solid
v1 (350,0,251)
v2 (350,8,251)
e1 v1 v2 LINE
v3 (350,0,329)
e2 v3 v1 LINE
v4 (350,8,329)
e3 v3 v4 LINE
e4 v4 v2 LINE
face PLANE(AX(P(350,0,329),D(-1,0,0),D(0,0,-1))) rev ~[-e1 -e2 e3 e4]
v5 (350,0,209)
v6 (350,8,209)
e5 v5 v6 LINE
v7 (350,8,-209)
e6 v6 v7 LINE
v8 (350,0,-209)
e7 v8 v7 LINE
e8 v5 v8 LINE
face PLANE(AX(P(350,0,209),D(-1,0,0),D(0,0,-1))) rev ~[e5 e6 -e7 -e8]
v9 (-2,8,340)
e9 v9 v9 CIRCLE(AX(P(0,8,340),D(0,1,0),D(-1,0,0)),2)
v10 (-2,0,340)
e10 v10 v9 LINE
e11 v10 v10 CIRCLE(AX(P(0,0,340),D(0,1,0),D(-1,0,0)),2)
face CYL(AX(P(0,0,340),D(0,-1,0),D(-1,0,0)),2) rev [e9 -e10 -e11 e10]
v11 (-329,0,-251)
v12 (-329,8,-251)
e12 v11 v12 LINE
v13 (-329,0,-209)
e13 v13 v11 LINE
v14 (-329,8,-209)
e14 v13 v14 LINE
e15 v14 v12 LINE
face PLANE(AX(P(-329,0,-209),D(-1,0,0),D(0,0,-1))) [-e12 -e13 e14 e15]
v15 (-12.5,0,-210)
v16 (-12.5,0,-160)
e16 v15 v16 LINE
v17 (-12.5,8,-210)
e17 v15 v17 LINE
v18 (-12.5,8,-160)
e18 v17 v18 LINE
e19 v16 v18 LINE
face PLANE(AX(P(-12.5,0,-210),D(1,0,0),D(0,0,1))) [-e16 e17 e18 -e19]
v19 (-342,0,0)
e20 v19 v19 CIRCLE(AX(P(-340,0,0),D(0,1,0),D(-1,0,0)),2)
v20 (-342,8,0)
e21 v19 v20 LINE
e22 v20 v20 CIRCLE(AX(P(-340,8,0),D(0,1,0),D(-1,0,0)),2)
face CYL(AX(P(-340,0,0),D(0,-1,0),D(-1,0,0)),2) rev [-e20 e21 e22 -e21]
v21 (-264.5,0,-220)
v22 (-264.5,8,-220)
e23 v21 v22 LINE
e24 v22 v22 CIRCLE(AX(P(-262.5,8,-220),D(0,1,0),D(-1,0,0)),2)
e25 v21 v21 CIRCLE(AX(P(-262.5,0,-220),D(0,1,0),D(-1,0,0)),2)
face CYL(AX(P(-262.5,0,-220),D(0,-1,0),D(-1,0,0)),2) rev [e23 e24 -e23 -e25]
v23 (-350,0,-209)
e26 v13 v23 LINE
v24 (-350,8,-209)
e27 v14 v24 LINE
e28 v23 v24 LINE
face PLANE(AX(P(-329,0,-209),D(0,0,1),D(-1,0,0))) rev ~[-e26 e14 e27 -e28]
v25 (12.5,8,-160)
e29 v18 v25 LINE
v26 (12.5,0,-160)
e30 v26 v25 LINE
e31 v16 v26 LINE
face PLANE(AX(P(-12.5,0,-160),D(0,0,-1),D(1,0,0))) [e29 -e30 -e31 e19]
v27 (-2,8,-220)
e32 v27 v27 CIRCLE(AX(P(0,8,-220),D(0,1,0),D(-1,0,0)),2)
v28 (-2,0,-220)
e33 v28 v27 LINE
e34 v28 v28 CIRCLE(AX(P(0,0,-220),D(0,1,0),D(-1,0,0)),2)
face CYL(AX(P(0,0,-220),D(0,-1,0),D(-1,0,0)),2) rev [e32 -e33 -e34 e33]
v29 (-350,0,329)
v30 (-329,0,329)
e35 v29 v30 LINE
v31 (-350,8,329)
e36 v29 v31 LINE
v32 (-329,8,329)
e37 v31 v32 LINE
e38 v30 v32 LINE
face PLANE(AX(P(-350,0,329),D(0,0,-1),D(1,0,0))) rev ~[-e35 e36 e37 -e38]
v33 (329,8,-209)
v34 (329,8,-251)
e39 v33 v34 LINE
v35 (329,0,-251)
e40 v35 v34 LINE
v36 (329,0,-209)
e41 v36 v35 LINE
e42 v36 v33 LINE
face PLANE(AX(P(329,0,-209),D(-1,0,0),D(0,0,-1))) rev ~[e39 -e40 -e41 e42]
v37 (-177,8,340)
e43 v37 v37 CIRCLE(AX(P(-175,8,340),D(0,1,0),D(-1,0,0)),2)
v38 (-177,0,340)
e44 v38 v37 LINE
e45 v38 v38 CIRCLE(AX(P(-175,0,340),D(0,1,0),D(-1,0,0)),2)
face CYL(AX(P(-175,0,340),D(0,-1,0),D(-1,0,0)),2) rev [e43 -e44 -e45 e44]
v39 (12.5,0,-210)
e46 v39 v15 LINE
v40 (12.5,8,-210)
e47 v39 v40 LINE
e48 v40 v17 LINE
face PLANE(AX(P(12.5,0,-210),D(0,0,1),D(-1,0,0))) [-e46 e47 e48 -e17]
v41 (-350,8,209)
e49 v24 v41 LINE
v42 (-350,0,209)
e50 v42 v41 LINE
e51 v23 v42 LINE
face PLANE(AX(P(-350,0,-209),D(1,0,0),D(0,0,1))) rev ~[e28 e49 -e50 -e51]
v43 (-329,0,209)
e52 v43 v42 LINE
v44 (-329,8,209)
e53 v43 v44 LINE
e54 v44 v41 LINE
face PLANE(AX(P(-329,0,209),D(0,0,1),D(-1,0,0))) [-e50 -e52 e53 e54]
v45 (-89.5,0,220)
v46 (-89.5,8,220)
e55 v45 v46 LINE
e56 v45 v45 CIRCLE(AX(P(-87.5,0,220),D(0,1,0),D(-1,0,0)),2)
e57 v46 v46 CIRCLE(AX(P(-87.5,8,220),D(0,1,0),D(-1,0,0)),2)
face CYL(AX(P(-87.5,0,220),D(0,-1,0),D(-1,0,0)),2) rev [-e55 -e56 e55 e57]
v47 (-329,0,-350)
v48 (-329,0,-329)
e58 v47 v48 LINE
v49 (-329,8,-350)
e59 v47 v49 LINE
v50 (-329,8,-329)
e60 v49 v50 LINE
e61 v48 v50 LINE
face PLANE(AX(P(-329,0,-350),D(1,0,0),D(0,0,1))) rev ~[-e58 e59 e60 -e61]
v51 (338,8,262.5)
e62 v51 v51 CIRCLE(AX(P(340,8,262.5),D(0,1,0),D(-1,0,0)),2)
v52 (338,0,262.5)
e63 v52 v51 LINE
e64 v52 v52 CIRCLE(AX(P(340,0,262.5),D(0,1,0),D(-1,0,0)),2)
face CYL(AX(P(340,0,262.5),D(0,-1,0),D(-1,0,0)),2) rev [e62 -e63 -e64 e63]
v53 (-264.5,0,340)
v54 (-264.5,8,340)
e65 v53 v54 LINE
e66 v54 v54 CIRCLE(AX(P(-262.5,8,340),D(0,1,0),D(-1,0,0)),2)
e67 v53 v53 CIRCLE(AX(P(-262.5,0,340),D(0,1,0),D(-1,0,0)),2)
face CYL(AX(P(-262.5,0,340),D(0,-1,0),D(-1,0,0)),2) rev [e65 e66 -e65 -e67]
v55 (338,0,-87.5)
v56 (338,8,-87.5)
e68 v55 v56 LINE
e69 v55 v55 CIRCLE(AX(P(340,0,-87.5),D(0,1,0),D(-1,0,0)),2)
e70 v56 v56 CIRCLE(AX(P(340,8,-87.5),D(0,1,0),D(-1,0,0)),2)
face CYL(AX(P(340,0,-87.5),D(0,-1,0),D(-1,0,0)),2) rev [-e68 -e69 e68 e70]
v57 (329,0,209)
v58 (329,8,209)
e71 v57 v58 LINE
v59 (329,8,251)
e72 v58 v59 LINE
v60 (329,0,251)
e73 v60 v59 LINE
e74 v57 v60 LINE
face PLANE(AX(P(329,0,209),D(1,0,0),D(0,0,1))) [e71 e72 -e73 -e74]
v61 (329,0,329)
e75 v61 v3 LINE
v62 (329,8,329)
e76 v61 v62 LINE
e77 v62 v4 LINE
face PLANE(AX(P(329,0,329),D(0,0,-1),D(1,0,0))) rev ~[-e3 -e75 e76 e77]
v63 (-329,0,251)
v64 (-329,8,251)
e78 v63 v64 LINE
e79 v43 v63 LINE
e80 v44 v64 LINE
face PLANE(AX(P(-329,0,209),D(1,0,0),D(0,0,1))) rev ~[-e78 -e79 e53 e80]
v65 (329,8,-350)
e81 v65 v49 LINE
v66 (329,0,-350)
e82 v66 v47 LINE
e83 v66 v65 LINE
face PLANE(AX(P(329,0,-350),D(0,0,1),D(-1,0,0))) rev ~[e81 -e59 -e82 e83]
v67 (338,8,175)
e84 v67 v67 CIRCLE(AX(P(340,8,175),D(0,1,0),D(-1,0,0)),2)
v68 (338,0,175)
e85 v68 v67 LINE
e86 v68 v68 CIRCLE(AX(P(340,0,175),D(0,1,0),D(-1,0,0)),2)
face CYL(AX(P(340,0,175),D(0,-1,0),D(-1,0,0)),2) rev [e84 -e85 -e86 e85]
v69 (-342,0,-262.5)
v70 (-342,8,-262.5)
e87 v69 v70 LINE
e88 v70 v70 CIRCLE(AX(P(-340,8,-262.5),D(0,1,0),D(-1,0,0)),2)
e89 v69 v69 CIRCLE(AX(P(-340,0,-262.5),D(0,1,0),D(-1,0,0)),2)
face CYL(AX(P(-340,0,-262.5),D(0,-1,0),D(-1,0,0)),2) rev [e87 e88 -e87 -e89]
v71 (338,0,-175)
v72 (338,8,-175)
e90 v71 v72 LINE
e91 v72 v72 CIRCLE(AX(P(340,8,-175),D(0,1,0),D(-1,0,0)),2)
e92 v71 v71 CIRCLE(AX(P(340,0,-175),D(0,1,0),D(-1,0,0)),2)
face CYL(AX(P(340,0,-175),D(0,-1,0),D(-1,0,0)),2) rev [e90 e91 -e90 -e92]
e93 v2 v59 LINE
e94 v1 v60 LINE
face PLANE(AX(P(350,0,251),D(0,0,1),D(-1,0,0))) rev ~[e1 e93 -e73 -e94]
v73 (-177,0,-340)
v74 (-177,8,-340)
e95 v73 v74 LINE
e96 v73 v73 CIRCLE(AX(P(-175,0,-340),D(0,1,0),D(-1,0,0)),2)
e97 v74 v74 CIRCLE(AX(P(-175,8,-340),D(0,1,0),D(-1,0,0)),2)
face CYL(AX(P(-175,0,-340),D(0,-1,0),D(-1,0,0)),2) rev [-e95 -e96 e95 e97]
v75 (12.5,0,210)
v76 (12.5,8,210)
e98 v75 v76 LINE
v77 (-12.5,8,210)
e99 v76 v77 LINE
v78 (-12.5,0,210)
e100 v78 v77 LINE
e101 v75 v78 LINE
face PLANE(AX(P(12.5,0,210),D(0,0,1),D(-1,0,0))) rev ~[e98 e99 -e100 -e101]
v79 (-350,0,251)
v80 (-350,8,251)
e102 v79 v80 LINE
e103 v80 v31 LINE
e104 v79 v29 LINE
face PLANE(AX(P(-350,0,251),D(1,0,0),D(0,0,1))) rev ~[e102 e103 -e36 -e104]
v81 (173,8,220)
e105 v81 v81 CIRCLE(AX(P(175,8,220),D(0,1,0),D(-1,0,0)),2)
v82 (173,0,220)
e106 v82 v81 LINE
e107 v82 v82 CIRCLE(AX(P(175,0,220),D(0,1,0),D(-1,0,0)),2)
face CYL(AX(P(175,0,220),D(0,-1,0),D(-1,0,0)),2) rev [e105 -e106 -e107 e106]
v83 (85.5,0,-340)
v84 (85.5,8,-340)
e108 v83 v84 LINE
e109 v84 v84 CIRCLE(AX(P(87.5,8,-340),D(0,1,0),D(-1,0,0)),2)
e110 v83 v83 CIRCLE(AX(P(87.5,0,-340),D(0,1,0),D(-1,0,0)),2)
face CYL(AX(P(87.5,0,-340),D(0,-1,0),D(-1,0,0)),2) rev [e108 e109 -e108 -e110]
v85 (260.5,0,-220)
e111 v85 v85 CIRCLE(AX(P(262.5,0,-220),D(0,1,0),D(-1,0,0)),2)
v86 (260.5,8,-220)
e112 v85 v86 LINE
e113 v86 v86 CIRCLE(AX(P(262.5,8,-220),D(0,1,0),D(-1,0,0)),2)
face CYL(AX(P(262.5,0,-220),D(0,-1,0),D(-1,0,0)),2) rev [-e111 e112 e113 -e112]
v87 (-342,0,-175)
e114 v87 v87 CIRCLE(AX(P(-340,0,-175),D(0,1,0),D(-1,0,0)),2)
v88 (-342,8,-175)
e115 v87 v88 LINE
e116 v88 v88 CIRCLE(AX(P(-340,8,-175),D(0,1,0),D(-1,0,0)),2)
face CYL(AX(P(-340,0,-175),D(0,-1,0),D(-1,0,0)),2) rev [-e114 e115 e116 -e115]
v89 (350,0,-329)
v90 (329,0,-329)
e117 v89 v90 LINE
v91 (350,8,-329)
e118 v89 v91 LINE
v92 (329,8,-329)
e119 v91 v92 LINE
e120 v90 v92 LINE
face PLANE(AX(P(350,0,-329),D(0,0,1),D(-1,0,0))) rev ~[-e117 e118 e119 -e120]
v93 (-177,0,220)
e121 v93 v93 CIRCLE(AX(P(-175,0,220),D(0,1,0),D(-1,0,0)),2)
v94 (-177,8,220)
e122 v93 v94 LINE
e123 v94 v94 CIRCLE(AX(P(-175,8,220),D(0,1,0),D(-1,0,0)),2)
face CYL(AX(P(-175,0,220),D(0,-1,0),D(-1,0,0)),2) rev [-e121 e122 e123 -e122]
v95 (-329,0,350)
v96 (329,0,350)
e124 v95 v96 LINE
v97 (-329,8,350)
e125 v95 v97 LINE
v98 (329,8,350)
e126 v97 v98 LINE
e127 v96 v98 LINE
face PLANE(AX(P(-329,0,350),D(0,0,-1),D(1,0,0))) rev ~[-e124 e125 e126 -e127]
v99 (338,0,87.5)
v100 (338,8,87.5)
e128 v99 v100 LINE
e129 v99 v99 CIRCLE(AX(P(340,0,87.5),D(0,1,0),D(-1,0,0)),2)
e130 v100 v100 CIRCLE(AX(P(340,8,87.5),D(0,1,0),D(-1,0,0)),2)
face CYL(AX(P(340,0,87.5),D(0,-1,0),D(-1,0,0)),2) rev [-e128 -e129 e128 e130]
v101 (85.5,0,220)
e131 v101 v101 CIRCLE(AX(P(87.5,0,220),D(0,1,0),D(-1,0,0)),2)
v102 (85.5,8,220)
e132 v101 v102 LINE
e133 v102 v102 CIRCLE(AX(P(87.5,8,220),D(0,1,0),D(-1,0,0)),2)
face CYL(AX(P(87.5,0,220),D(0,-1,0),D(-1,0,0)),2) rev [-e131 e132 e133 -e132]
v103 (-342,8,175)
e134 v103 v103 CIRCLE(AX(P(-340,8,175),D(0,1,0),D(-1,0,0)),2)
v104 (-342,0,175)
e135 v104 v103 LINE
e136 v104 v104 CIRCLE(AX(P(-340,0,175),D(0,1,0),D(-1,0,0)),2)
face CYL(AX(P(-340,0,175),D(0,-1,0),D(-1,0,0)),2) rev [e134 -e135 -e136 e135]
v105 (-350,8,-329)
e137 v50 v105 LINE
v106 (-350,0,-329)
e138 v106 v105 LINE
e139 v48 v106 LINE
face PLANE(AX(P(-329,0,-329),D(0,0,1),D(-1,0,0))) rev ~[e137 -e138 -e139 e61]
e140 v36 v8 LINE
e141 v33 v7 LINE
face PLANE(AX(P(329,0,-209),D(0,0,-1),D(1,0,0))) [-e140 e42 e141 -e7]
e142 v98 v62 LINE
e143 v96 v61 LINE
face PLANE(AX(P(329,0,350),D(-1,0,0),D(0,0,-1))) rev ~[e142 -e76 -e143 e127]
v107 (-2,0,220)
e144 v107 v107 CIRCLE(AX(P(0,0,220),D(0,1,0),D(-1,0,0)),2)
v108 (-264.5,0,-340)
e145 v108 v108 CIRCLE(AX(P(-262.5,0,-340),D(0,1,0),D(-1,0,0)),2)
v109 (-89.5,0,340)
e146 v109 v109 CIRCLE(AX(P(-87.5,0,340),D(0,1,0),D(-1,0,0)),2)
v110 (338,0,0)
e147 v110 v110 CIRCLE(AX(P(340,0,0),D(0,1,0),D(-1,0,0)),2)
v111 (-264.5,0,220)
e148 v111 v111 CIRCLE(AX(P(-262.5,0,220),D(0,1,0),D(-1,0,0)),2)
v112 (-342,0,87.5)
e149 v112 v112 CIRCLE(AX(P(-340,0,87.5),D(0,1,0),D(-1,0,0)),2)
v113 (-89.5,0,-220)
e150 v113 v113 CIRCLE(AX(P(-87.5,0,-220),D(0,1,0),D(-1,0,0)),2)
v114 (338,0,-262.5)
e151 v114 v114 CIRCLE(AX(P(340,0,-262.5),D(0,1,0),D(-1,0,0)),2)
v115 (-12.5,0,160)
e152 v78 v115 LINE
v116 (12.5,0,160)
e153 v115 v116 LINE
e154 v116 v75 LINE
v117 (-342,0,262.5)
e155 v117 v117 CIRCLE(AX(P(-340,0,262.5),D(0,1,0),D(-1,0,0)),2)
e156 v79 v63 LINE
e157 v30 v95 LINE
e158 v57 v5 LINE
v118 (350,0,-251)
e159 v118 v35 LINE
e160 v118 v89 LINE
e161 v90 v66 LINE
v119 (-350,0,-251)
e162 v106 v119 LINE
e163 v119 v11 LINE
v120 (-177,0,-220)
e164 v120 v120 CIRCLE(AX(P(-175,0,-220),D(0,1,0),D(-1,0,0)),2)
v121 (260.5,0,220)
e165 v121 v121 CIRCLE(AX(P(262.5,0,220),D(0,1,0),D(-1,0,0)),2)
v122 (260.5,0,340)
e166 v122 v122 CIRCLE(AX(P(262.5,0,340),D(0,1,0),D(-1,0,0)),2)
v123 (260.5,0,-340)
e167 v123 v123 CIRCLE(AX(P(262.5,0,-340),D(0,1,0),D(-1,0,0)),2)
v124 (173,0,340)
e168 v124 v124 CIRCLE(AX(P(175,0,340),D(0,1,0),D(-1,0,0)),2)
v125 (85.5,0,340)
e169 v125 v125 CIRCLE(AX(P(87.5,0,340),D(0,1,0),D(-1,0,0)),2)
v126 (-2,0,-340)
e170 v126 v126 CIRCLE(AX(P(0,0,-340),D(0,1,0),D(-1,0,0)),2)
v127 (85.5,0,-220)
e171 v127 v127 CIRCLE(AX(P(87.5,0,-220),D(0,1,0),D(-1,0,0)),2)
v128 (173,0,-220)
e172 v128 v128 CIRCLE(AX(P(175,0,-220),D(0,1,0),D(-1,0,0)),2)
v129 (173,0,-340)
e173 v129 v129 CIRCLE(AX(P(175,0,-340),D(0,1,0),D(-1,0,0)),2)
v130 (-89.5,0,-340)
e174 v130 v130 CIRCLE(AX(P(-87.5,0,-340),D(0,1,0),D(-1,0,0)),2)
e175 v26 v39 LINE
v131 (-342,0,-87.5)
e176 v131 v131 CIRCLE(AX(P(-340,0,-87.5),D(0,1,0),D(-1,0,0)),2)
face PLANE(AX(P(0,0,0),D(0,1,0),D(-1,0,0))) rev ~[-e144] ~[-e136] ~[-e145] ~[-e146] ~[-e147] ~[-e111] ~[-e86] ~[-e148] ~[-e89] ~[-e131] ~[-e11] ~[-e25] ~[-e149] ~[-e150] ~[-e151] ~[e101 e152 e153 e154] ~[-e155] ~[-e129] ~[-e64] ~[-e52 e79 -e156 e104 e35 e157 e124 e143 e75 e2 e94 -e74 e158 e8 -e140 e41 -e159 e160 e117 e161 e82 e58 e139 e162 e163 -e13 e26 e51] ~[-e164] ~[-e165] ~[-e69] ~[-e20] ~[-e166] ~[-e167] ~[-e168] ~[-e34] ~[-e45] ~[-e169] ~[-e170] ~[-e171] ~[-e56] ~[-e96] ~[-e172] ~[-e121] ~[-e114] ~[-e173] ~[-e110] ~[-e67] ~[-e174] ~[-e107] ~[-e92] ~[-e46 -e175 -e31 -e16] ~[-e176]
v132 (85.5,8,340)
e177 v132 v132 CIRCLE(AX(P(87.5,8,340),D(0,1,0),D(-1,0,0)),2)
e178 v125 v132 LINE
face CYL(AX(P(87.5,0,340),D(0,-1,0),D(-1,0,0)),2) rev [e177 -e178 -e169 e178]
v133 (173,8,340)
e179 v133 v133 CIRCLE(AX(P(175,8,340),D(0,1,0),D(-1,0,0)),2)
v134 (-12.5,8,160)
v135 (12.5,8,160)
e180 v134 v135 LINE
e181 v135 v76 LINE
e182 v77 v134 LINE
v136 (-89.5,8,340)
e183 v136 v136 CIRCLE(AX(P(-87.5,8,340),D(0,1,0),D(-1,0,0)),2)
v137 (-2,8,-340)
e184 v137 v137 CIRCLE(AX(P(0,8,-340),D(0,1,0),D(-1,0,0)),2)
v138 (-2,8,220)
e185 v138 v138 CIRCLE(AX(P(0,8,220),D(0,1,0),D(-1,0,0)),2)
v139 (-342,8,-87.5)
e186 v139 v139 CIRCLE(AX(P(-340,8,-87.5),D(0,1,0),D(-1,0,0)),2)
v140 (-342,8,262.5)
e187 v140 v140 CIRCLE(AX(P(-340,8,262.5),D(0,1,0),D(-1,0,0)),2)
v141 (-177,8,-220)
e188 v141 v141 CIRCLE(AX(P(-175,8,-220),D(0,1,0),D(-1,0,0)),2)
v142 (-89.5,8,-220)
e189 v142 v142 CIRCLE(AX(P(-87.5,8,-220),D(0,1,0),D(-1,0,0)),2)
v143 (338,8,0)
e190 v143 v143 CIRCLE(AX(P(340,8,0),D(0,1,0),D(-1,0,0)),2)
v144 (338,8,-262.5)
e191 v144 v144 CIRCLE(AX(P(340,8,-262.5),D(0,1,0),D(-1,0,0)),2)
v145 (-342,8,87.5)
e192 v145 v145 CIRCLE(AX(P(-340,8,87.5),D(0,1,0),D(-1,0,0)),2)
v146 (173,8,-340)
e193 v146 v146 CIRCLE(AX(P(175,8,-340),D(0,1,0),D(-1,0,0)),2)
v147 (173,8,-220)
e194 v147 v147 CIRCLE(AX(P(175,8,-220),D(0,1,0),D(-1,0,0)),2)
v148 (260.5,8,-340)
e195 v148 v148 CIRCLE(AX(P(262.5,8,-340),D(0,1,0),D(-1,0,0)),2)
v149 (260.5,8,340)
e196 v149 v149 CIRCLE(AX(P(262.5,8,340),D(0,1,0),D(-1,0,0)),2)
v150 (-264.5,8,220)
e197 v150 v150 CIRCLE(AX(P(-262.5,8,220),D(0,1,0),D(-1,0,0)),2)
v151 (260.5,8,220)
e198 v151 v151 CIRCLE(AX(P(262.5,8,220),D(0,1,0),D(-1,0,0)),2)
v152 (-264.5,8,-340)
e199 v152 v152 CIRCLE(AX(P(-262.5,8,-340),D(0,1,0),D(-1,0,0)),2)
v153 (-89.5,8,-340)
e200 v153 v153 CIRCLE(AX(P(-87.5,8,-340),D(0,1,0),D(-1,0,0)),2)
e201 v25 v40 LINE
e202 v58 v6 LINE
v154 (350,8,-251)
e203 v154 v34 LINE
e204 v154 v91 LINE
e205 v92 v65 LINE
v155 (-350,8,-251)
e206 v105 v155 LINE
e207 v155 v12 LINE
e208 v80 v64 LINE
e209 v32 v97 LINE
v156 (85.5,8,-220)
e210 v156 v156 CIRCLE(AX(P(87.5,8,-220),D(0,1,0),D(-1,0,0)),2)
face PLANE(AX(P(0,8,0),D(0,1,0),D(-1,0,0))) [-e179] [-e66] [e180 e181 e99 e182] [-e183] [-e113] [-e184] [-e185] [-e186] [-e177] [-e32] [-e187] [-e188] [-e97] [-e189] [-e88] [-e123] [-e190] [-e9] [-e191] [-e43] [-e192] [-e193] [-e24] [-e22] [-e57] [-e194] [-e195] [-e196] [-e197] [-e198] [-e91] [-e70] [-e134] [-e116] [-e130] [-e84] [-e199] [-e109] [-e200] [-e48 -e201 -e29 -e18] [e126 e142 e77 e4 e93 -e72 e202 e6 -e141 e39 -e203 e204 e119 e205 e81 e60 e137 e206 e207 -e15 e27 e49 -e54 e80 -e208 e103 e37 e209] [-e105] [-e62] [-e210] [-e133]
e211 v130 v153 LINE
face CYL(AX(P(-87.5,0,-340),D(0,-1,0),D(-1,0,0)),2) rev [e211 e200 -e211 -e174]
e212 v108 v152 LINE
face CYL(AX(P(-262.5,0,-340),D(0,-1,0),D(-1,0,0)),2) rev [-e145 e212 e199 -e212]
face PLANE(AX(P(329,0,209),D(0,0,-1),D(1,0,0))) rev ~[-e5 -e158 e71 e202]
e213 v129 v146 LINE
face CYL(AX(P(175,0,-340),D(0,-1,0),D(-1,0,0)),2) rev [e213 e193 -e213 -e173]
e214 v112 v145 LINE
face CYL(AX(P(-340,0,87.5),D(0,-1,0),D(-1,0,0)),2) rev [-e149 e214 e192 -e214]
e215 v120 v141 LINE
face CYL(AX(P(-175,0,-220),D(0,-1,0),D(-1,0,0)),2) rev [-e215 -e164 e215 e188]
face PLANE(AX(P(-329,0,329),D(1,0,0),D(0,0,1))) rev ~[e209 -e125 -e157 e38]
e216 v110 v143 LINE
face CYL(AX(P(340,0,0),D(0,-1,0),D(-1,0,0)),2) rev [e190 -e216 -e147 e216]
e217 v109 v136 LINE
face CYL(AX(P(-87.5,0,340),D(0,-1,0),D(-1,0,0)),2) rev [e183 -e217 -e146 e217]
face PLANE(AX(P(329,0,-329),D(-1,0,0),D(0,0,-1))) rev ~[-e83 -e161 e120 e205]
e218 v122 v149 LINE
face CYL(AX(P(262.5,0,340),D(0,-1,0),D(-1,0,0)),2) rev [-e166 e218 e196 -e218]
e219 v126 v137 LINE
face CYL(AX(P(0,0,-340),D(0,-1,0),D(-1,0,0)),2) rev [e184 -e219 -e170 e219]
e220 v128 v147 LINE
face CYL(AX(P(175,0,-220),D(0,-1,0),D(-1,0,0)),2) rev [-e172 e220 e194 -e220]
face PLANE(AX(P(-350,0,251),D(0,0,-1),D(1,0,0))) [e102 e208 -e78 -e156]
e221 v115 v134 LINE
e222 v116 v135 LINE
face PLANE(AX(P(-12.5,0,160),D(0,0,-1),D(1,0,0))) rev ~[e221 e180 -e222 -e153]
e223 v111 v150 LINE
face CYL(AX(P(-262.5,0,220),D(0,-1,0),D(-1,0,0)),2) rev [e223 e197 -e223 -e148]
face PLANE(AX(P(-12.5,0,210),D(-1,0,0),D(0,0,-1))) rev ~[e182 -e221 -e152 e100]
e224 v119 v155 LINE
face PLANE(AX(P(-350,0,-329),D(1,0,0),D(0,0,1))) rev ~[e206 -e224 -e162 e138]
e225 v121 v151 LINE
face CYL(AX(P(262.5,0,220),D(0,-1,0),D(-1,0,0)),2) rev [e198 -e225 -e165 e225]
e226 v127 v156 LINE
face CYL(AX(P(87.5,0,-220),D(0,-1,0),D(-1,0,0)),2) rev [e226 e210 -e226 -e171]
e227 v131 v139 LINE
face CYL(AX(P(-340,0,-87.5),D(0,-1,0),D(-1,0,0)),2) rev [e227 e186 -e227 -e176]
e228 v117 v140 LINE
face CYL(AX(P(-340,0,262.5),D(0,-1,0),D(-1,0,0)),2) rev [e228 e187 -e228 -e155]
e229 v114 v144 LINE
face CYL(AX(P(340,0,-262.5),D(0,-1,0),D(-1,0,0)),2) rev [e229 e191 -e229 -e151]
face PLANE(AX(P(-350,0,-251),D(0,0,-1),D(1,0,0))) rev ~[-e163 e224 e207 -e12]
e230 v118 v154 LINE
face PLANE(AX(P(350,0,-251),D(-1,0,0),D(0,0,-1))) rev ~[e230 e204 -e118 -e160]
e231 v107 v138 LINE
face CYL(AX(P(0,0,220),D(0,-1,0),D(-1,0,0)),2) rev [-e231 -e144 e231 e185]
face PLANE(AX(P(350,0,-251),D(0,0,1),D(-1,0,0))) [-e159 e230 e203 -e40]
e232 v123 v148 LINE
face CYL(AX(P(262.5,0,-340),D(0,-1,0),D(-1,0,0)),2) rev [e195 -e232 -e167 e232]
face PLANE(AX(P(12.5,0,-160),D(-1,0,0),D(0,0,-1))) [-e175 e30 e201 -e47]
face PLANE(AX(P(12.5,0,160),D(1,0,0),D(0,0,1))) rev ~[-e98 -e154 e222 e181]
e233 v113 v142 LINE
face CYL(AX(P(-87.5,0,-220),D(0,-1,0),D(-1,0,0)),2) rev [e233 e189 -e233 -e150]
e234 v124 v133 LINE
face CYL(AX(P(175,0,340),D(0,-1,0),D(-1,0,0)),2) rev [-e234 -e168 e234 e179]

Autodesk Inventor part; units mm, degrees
ref_plane "YZ Plane" through (0, 0, 0) normal (1, 0, 0) x (0, 1, 0)
ref_plane "XZ Plane" through (0, 0, 0) normal (0, 1, 0) x (-1, 0, 0)
ref_plane "XY Plane" through (0, 0, 0) normal (0, 0, 1) x (1, 0, 0)
sketch "Sketch1" plane through (0, 0, 0) normal (0, 1, 0) x (-1, 0, 0)
  line L0 (350, 350) -> (-350, 350)
  line L1 (-350, 350) -> (-350, -350)
  line L2 (-350, -350) -> (350, -350)
  line L3 (350, -350) -> (350, 350)
  line L4 (350, 350) -> (-350, -350) construction
  line L5 (-350, 350) -> (350, -350) construction
  line L6 (-329, 350) -> (-329, 329)
  line L7 (-329, 329) -> (-350, 329)
  line L8 (-350, -329) -> (-329, -329)
  line L9 (-329, -329) -> (-329, -350)
  line L10 (329, -350) -> (329, -329)
  line L11 (329, -329) -> (350, -329)
  line L12 (350, 329) -> (329, 329)
  line L13 (329, 329) -> (329, 350)
  line L14 (-350, 251) -> (-329, 251)
  line L15 (-329, 251) -> (-329, 251)
  line L16 (-329, 209) -> (-350, 209)
  line L17 (-329, 209) -> (-329, 251)
  line L18 (350, 0) -> (-350, 0) construction
  line L19 (0, -350) -> (0, 350) construction
  line L20 (-350, -251) -> (-329, -251)
  line L21 (-329, -209) -> (-350, -209)
  line L22 (-329, -209) -> (-329, -251)
  line L23 (0, 350) -> (0, -350) construction
  line L24 (350, 251) -> (329, 251)
  line L25 (329, 251) -> (329, 251)
  line L26 (329, 209) -> (350, 209)
  line L27 (329, 209) -> (329, 251)
  line L28 (329, -209) -> (350, -209)
  line L29 (329, -209) -> (329, -251)
  line L30 (350, -251) -> (329, -251)
  line L31 (-350, 340) -> (350, 340) construction
  circle A0 centre (262.5, 340) radius 2
  circle A1 centre (175, 340) radius 2
  circle A2 centre (87.5, 340) radius 2
  circle A3 centre (0, 340) radius 2
  circle A4 centre (-262.5, 340) radius 2
  circle A5 centre (-175, 340) radius 2
  circle A6 centre (-87.5, 340) radius 2
  line L32 (-340, -350) -> (-340, 350) construction
  circle A7 centre (-340, -175) radius 2
  circle A8 centre (-340, 0) radius 2
  circle A9 centre (-340, 87.5) radius 2
  circle A10 centre (-340, -87.5) radius 2
  circle A11 centre (-340, -262.5) radius 2
  circle A12 centre (-340, 175) radius 2
  circle A13 centre (-340, 262.5) radius 2
  line L33 (350, -340) -> (-350, -340) construction
  circle A14 centre (175, -340) radius 2
  circle A15 centre (0, -340) radius 2
  circle A16 centre (-87.5, -340) radius 2
  circle A17 centre (87.5, -340) radius 2
  circle A18 centre (262.5, -340) radius 2
  circle A19 centre (-175, -340) radius 2
  circle A20 centre (-262.5, -340) radius 2
  line L34 (340, 350) -> (340, -350) construction
  circle A21 centre (340, 175) radius 2
  circle A22 centre (340, 0) radius 2
  circle A23 centre (340, -87.5) radius 2
  circle A24 centre (340, 87.5) radius 2
  circle A25 centre (340, 262.5) radius 2
  circle A26 centre (340, -175) radius 2
  circle A27 centre (340, -262.5) radius 2
  line L35 (350, 220) -> (-350, 220) construction
  line L36 (350, 280) -> (-350, 280) construction
  circle A28 centre (262.5, 220) radius 2
  circle A29 centre (175, 220) radius 2
  circle A30 centre (87.5, 220) radius 2
  circle A31 centre (0, 220) radius 2
  circle A32 centre (-262.5, 220) radius 2
  circle A33 centre (-175, 220) radius 2
  circle A34 centre (-87.5, 220) radius 2
  circle A35 centre (175, -220) radius 2
  circle A36 centre (262.5, -220) radius 2
  circle A37 centre (-262.5, -220) radius 2
  circle A38 centre (-175, -220) radius 2
  circle A39 centre (87.5, -220) radius 2
  circle A40 centre (-87.5, -220) radius 2
  circle A41 centre (0, -220) radius 2
  line L37 (12.5, 160) -> (-12.5, 160)
  line L38 (-12.5, 160) -> (-12.5, 210)
  line L39 (-12.5, 210) -> (12.5, 210)
  line L40 (12.5, 210) -> (12.5, 160)
  line L41 (12.5, 160) -> (-12.5, 210) construction
  line L42 (-12.5, 160) -> (12.5, 210) construction
  line L43 (12.5, -160) -> (-12.5, -160)
  line L44 (-12.5, -160) -> (-12.5, -210)
  line L45 (-12.5, -210) -> (12.5, -210)
  line L46 (12.5, -210) -> (12.5, -160)
  point P0 (0, 0)
  point P1 (0, 0)
  point P2 (-350, -209)
  point P3 (350, -209)
  point P4 (350, 209)
  point P5 (0, 185)
  dimension "d0" = 700
  dimension "d1" = 700
  dimension "d2" = 21
  dimension "d3" = 21
  dimension "d6" = 360
  dimension "d8" = 21
  dimension "d9" = 99
  dimension "d10" = 141
  dimension "d13" = 10
  dimension "d14" = 4
  dimension "d15" = 4
  dimension "d16" = 4
  dimension "d17" = 175
  dimension "d18" = 87.5
  dimension "d19" = 87.5
  dimension "d20" = 4
  dimension "d23" = 360
  dimension "d25" = 130
  dimension "d26" = 120
  dimension "d27" = 60
  dimension "d28" = 140
  dimension "d29" = 25
  dimension "d30" = 50
extrude "Extrusion1" add sketch "Sketch1" along normal blind 8 contours L13 L12 L3 L24 L27 L26 L28 L29 L30 L11 L10 L2 L9 L8 L1 L20 L22 L21 L16 L17 L14 L7 L6 L0
equation "\"d1\" = d0"
equation "\"d3\" = d2"
equation "\"d15\" = d14"
equation "\"d16\" = d14"
equation "\"d18\" = 0.5 * d17"
equation "\"d19\" = d18"
equation "\"d20\" = d14"
equation "\"d27\" = 0.5 * d26"
properties part number "Bottom_Plate" material "Bamboo"
